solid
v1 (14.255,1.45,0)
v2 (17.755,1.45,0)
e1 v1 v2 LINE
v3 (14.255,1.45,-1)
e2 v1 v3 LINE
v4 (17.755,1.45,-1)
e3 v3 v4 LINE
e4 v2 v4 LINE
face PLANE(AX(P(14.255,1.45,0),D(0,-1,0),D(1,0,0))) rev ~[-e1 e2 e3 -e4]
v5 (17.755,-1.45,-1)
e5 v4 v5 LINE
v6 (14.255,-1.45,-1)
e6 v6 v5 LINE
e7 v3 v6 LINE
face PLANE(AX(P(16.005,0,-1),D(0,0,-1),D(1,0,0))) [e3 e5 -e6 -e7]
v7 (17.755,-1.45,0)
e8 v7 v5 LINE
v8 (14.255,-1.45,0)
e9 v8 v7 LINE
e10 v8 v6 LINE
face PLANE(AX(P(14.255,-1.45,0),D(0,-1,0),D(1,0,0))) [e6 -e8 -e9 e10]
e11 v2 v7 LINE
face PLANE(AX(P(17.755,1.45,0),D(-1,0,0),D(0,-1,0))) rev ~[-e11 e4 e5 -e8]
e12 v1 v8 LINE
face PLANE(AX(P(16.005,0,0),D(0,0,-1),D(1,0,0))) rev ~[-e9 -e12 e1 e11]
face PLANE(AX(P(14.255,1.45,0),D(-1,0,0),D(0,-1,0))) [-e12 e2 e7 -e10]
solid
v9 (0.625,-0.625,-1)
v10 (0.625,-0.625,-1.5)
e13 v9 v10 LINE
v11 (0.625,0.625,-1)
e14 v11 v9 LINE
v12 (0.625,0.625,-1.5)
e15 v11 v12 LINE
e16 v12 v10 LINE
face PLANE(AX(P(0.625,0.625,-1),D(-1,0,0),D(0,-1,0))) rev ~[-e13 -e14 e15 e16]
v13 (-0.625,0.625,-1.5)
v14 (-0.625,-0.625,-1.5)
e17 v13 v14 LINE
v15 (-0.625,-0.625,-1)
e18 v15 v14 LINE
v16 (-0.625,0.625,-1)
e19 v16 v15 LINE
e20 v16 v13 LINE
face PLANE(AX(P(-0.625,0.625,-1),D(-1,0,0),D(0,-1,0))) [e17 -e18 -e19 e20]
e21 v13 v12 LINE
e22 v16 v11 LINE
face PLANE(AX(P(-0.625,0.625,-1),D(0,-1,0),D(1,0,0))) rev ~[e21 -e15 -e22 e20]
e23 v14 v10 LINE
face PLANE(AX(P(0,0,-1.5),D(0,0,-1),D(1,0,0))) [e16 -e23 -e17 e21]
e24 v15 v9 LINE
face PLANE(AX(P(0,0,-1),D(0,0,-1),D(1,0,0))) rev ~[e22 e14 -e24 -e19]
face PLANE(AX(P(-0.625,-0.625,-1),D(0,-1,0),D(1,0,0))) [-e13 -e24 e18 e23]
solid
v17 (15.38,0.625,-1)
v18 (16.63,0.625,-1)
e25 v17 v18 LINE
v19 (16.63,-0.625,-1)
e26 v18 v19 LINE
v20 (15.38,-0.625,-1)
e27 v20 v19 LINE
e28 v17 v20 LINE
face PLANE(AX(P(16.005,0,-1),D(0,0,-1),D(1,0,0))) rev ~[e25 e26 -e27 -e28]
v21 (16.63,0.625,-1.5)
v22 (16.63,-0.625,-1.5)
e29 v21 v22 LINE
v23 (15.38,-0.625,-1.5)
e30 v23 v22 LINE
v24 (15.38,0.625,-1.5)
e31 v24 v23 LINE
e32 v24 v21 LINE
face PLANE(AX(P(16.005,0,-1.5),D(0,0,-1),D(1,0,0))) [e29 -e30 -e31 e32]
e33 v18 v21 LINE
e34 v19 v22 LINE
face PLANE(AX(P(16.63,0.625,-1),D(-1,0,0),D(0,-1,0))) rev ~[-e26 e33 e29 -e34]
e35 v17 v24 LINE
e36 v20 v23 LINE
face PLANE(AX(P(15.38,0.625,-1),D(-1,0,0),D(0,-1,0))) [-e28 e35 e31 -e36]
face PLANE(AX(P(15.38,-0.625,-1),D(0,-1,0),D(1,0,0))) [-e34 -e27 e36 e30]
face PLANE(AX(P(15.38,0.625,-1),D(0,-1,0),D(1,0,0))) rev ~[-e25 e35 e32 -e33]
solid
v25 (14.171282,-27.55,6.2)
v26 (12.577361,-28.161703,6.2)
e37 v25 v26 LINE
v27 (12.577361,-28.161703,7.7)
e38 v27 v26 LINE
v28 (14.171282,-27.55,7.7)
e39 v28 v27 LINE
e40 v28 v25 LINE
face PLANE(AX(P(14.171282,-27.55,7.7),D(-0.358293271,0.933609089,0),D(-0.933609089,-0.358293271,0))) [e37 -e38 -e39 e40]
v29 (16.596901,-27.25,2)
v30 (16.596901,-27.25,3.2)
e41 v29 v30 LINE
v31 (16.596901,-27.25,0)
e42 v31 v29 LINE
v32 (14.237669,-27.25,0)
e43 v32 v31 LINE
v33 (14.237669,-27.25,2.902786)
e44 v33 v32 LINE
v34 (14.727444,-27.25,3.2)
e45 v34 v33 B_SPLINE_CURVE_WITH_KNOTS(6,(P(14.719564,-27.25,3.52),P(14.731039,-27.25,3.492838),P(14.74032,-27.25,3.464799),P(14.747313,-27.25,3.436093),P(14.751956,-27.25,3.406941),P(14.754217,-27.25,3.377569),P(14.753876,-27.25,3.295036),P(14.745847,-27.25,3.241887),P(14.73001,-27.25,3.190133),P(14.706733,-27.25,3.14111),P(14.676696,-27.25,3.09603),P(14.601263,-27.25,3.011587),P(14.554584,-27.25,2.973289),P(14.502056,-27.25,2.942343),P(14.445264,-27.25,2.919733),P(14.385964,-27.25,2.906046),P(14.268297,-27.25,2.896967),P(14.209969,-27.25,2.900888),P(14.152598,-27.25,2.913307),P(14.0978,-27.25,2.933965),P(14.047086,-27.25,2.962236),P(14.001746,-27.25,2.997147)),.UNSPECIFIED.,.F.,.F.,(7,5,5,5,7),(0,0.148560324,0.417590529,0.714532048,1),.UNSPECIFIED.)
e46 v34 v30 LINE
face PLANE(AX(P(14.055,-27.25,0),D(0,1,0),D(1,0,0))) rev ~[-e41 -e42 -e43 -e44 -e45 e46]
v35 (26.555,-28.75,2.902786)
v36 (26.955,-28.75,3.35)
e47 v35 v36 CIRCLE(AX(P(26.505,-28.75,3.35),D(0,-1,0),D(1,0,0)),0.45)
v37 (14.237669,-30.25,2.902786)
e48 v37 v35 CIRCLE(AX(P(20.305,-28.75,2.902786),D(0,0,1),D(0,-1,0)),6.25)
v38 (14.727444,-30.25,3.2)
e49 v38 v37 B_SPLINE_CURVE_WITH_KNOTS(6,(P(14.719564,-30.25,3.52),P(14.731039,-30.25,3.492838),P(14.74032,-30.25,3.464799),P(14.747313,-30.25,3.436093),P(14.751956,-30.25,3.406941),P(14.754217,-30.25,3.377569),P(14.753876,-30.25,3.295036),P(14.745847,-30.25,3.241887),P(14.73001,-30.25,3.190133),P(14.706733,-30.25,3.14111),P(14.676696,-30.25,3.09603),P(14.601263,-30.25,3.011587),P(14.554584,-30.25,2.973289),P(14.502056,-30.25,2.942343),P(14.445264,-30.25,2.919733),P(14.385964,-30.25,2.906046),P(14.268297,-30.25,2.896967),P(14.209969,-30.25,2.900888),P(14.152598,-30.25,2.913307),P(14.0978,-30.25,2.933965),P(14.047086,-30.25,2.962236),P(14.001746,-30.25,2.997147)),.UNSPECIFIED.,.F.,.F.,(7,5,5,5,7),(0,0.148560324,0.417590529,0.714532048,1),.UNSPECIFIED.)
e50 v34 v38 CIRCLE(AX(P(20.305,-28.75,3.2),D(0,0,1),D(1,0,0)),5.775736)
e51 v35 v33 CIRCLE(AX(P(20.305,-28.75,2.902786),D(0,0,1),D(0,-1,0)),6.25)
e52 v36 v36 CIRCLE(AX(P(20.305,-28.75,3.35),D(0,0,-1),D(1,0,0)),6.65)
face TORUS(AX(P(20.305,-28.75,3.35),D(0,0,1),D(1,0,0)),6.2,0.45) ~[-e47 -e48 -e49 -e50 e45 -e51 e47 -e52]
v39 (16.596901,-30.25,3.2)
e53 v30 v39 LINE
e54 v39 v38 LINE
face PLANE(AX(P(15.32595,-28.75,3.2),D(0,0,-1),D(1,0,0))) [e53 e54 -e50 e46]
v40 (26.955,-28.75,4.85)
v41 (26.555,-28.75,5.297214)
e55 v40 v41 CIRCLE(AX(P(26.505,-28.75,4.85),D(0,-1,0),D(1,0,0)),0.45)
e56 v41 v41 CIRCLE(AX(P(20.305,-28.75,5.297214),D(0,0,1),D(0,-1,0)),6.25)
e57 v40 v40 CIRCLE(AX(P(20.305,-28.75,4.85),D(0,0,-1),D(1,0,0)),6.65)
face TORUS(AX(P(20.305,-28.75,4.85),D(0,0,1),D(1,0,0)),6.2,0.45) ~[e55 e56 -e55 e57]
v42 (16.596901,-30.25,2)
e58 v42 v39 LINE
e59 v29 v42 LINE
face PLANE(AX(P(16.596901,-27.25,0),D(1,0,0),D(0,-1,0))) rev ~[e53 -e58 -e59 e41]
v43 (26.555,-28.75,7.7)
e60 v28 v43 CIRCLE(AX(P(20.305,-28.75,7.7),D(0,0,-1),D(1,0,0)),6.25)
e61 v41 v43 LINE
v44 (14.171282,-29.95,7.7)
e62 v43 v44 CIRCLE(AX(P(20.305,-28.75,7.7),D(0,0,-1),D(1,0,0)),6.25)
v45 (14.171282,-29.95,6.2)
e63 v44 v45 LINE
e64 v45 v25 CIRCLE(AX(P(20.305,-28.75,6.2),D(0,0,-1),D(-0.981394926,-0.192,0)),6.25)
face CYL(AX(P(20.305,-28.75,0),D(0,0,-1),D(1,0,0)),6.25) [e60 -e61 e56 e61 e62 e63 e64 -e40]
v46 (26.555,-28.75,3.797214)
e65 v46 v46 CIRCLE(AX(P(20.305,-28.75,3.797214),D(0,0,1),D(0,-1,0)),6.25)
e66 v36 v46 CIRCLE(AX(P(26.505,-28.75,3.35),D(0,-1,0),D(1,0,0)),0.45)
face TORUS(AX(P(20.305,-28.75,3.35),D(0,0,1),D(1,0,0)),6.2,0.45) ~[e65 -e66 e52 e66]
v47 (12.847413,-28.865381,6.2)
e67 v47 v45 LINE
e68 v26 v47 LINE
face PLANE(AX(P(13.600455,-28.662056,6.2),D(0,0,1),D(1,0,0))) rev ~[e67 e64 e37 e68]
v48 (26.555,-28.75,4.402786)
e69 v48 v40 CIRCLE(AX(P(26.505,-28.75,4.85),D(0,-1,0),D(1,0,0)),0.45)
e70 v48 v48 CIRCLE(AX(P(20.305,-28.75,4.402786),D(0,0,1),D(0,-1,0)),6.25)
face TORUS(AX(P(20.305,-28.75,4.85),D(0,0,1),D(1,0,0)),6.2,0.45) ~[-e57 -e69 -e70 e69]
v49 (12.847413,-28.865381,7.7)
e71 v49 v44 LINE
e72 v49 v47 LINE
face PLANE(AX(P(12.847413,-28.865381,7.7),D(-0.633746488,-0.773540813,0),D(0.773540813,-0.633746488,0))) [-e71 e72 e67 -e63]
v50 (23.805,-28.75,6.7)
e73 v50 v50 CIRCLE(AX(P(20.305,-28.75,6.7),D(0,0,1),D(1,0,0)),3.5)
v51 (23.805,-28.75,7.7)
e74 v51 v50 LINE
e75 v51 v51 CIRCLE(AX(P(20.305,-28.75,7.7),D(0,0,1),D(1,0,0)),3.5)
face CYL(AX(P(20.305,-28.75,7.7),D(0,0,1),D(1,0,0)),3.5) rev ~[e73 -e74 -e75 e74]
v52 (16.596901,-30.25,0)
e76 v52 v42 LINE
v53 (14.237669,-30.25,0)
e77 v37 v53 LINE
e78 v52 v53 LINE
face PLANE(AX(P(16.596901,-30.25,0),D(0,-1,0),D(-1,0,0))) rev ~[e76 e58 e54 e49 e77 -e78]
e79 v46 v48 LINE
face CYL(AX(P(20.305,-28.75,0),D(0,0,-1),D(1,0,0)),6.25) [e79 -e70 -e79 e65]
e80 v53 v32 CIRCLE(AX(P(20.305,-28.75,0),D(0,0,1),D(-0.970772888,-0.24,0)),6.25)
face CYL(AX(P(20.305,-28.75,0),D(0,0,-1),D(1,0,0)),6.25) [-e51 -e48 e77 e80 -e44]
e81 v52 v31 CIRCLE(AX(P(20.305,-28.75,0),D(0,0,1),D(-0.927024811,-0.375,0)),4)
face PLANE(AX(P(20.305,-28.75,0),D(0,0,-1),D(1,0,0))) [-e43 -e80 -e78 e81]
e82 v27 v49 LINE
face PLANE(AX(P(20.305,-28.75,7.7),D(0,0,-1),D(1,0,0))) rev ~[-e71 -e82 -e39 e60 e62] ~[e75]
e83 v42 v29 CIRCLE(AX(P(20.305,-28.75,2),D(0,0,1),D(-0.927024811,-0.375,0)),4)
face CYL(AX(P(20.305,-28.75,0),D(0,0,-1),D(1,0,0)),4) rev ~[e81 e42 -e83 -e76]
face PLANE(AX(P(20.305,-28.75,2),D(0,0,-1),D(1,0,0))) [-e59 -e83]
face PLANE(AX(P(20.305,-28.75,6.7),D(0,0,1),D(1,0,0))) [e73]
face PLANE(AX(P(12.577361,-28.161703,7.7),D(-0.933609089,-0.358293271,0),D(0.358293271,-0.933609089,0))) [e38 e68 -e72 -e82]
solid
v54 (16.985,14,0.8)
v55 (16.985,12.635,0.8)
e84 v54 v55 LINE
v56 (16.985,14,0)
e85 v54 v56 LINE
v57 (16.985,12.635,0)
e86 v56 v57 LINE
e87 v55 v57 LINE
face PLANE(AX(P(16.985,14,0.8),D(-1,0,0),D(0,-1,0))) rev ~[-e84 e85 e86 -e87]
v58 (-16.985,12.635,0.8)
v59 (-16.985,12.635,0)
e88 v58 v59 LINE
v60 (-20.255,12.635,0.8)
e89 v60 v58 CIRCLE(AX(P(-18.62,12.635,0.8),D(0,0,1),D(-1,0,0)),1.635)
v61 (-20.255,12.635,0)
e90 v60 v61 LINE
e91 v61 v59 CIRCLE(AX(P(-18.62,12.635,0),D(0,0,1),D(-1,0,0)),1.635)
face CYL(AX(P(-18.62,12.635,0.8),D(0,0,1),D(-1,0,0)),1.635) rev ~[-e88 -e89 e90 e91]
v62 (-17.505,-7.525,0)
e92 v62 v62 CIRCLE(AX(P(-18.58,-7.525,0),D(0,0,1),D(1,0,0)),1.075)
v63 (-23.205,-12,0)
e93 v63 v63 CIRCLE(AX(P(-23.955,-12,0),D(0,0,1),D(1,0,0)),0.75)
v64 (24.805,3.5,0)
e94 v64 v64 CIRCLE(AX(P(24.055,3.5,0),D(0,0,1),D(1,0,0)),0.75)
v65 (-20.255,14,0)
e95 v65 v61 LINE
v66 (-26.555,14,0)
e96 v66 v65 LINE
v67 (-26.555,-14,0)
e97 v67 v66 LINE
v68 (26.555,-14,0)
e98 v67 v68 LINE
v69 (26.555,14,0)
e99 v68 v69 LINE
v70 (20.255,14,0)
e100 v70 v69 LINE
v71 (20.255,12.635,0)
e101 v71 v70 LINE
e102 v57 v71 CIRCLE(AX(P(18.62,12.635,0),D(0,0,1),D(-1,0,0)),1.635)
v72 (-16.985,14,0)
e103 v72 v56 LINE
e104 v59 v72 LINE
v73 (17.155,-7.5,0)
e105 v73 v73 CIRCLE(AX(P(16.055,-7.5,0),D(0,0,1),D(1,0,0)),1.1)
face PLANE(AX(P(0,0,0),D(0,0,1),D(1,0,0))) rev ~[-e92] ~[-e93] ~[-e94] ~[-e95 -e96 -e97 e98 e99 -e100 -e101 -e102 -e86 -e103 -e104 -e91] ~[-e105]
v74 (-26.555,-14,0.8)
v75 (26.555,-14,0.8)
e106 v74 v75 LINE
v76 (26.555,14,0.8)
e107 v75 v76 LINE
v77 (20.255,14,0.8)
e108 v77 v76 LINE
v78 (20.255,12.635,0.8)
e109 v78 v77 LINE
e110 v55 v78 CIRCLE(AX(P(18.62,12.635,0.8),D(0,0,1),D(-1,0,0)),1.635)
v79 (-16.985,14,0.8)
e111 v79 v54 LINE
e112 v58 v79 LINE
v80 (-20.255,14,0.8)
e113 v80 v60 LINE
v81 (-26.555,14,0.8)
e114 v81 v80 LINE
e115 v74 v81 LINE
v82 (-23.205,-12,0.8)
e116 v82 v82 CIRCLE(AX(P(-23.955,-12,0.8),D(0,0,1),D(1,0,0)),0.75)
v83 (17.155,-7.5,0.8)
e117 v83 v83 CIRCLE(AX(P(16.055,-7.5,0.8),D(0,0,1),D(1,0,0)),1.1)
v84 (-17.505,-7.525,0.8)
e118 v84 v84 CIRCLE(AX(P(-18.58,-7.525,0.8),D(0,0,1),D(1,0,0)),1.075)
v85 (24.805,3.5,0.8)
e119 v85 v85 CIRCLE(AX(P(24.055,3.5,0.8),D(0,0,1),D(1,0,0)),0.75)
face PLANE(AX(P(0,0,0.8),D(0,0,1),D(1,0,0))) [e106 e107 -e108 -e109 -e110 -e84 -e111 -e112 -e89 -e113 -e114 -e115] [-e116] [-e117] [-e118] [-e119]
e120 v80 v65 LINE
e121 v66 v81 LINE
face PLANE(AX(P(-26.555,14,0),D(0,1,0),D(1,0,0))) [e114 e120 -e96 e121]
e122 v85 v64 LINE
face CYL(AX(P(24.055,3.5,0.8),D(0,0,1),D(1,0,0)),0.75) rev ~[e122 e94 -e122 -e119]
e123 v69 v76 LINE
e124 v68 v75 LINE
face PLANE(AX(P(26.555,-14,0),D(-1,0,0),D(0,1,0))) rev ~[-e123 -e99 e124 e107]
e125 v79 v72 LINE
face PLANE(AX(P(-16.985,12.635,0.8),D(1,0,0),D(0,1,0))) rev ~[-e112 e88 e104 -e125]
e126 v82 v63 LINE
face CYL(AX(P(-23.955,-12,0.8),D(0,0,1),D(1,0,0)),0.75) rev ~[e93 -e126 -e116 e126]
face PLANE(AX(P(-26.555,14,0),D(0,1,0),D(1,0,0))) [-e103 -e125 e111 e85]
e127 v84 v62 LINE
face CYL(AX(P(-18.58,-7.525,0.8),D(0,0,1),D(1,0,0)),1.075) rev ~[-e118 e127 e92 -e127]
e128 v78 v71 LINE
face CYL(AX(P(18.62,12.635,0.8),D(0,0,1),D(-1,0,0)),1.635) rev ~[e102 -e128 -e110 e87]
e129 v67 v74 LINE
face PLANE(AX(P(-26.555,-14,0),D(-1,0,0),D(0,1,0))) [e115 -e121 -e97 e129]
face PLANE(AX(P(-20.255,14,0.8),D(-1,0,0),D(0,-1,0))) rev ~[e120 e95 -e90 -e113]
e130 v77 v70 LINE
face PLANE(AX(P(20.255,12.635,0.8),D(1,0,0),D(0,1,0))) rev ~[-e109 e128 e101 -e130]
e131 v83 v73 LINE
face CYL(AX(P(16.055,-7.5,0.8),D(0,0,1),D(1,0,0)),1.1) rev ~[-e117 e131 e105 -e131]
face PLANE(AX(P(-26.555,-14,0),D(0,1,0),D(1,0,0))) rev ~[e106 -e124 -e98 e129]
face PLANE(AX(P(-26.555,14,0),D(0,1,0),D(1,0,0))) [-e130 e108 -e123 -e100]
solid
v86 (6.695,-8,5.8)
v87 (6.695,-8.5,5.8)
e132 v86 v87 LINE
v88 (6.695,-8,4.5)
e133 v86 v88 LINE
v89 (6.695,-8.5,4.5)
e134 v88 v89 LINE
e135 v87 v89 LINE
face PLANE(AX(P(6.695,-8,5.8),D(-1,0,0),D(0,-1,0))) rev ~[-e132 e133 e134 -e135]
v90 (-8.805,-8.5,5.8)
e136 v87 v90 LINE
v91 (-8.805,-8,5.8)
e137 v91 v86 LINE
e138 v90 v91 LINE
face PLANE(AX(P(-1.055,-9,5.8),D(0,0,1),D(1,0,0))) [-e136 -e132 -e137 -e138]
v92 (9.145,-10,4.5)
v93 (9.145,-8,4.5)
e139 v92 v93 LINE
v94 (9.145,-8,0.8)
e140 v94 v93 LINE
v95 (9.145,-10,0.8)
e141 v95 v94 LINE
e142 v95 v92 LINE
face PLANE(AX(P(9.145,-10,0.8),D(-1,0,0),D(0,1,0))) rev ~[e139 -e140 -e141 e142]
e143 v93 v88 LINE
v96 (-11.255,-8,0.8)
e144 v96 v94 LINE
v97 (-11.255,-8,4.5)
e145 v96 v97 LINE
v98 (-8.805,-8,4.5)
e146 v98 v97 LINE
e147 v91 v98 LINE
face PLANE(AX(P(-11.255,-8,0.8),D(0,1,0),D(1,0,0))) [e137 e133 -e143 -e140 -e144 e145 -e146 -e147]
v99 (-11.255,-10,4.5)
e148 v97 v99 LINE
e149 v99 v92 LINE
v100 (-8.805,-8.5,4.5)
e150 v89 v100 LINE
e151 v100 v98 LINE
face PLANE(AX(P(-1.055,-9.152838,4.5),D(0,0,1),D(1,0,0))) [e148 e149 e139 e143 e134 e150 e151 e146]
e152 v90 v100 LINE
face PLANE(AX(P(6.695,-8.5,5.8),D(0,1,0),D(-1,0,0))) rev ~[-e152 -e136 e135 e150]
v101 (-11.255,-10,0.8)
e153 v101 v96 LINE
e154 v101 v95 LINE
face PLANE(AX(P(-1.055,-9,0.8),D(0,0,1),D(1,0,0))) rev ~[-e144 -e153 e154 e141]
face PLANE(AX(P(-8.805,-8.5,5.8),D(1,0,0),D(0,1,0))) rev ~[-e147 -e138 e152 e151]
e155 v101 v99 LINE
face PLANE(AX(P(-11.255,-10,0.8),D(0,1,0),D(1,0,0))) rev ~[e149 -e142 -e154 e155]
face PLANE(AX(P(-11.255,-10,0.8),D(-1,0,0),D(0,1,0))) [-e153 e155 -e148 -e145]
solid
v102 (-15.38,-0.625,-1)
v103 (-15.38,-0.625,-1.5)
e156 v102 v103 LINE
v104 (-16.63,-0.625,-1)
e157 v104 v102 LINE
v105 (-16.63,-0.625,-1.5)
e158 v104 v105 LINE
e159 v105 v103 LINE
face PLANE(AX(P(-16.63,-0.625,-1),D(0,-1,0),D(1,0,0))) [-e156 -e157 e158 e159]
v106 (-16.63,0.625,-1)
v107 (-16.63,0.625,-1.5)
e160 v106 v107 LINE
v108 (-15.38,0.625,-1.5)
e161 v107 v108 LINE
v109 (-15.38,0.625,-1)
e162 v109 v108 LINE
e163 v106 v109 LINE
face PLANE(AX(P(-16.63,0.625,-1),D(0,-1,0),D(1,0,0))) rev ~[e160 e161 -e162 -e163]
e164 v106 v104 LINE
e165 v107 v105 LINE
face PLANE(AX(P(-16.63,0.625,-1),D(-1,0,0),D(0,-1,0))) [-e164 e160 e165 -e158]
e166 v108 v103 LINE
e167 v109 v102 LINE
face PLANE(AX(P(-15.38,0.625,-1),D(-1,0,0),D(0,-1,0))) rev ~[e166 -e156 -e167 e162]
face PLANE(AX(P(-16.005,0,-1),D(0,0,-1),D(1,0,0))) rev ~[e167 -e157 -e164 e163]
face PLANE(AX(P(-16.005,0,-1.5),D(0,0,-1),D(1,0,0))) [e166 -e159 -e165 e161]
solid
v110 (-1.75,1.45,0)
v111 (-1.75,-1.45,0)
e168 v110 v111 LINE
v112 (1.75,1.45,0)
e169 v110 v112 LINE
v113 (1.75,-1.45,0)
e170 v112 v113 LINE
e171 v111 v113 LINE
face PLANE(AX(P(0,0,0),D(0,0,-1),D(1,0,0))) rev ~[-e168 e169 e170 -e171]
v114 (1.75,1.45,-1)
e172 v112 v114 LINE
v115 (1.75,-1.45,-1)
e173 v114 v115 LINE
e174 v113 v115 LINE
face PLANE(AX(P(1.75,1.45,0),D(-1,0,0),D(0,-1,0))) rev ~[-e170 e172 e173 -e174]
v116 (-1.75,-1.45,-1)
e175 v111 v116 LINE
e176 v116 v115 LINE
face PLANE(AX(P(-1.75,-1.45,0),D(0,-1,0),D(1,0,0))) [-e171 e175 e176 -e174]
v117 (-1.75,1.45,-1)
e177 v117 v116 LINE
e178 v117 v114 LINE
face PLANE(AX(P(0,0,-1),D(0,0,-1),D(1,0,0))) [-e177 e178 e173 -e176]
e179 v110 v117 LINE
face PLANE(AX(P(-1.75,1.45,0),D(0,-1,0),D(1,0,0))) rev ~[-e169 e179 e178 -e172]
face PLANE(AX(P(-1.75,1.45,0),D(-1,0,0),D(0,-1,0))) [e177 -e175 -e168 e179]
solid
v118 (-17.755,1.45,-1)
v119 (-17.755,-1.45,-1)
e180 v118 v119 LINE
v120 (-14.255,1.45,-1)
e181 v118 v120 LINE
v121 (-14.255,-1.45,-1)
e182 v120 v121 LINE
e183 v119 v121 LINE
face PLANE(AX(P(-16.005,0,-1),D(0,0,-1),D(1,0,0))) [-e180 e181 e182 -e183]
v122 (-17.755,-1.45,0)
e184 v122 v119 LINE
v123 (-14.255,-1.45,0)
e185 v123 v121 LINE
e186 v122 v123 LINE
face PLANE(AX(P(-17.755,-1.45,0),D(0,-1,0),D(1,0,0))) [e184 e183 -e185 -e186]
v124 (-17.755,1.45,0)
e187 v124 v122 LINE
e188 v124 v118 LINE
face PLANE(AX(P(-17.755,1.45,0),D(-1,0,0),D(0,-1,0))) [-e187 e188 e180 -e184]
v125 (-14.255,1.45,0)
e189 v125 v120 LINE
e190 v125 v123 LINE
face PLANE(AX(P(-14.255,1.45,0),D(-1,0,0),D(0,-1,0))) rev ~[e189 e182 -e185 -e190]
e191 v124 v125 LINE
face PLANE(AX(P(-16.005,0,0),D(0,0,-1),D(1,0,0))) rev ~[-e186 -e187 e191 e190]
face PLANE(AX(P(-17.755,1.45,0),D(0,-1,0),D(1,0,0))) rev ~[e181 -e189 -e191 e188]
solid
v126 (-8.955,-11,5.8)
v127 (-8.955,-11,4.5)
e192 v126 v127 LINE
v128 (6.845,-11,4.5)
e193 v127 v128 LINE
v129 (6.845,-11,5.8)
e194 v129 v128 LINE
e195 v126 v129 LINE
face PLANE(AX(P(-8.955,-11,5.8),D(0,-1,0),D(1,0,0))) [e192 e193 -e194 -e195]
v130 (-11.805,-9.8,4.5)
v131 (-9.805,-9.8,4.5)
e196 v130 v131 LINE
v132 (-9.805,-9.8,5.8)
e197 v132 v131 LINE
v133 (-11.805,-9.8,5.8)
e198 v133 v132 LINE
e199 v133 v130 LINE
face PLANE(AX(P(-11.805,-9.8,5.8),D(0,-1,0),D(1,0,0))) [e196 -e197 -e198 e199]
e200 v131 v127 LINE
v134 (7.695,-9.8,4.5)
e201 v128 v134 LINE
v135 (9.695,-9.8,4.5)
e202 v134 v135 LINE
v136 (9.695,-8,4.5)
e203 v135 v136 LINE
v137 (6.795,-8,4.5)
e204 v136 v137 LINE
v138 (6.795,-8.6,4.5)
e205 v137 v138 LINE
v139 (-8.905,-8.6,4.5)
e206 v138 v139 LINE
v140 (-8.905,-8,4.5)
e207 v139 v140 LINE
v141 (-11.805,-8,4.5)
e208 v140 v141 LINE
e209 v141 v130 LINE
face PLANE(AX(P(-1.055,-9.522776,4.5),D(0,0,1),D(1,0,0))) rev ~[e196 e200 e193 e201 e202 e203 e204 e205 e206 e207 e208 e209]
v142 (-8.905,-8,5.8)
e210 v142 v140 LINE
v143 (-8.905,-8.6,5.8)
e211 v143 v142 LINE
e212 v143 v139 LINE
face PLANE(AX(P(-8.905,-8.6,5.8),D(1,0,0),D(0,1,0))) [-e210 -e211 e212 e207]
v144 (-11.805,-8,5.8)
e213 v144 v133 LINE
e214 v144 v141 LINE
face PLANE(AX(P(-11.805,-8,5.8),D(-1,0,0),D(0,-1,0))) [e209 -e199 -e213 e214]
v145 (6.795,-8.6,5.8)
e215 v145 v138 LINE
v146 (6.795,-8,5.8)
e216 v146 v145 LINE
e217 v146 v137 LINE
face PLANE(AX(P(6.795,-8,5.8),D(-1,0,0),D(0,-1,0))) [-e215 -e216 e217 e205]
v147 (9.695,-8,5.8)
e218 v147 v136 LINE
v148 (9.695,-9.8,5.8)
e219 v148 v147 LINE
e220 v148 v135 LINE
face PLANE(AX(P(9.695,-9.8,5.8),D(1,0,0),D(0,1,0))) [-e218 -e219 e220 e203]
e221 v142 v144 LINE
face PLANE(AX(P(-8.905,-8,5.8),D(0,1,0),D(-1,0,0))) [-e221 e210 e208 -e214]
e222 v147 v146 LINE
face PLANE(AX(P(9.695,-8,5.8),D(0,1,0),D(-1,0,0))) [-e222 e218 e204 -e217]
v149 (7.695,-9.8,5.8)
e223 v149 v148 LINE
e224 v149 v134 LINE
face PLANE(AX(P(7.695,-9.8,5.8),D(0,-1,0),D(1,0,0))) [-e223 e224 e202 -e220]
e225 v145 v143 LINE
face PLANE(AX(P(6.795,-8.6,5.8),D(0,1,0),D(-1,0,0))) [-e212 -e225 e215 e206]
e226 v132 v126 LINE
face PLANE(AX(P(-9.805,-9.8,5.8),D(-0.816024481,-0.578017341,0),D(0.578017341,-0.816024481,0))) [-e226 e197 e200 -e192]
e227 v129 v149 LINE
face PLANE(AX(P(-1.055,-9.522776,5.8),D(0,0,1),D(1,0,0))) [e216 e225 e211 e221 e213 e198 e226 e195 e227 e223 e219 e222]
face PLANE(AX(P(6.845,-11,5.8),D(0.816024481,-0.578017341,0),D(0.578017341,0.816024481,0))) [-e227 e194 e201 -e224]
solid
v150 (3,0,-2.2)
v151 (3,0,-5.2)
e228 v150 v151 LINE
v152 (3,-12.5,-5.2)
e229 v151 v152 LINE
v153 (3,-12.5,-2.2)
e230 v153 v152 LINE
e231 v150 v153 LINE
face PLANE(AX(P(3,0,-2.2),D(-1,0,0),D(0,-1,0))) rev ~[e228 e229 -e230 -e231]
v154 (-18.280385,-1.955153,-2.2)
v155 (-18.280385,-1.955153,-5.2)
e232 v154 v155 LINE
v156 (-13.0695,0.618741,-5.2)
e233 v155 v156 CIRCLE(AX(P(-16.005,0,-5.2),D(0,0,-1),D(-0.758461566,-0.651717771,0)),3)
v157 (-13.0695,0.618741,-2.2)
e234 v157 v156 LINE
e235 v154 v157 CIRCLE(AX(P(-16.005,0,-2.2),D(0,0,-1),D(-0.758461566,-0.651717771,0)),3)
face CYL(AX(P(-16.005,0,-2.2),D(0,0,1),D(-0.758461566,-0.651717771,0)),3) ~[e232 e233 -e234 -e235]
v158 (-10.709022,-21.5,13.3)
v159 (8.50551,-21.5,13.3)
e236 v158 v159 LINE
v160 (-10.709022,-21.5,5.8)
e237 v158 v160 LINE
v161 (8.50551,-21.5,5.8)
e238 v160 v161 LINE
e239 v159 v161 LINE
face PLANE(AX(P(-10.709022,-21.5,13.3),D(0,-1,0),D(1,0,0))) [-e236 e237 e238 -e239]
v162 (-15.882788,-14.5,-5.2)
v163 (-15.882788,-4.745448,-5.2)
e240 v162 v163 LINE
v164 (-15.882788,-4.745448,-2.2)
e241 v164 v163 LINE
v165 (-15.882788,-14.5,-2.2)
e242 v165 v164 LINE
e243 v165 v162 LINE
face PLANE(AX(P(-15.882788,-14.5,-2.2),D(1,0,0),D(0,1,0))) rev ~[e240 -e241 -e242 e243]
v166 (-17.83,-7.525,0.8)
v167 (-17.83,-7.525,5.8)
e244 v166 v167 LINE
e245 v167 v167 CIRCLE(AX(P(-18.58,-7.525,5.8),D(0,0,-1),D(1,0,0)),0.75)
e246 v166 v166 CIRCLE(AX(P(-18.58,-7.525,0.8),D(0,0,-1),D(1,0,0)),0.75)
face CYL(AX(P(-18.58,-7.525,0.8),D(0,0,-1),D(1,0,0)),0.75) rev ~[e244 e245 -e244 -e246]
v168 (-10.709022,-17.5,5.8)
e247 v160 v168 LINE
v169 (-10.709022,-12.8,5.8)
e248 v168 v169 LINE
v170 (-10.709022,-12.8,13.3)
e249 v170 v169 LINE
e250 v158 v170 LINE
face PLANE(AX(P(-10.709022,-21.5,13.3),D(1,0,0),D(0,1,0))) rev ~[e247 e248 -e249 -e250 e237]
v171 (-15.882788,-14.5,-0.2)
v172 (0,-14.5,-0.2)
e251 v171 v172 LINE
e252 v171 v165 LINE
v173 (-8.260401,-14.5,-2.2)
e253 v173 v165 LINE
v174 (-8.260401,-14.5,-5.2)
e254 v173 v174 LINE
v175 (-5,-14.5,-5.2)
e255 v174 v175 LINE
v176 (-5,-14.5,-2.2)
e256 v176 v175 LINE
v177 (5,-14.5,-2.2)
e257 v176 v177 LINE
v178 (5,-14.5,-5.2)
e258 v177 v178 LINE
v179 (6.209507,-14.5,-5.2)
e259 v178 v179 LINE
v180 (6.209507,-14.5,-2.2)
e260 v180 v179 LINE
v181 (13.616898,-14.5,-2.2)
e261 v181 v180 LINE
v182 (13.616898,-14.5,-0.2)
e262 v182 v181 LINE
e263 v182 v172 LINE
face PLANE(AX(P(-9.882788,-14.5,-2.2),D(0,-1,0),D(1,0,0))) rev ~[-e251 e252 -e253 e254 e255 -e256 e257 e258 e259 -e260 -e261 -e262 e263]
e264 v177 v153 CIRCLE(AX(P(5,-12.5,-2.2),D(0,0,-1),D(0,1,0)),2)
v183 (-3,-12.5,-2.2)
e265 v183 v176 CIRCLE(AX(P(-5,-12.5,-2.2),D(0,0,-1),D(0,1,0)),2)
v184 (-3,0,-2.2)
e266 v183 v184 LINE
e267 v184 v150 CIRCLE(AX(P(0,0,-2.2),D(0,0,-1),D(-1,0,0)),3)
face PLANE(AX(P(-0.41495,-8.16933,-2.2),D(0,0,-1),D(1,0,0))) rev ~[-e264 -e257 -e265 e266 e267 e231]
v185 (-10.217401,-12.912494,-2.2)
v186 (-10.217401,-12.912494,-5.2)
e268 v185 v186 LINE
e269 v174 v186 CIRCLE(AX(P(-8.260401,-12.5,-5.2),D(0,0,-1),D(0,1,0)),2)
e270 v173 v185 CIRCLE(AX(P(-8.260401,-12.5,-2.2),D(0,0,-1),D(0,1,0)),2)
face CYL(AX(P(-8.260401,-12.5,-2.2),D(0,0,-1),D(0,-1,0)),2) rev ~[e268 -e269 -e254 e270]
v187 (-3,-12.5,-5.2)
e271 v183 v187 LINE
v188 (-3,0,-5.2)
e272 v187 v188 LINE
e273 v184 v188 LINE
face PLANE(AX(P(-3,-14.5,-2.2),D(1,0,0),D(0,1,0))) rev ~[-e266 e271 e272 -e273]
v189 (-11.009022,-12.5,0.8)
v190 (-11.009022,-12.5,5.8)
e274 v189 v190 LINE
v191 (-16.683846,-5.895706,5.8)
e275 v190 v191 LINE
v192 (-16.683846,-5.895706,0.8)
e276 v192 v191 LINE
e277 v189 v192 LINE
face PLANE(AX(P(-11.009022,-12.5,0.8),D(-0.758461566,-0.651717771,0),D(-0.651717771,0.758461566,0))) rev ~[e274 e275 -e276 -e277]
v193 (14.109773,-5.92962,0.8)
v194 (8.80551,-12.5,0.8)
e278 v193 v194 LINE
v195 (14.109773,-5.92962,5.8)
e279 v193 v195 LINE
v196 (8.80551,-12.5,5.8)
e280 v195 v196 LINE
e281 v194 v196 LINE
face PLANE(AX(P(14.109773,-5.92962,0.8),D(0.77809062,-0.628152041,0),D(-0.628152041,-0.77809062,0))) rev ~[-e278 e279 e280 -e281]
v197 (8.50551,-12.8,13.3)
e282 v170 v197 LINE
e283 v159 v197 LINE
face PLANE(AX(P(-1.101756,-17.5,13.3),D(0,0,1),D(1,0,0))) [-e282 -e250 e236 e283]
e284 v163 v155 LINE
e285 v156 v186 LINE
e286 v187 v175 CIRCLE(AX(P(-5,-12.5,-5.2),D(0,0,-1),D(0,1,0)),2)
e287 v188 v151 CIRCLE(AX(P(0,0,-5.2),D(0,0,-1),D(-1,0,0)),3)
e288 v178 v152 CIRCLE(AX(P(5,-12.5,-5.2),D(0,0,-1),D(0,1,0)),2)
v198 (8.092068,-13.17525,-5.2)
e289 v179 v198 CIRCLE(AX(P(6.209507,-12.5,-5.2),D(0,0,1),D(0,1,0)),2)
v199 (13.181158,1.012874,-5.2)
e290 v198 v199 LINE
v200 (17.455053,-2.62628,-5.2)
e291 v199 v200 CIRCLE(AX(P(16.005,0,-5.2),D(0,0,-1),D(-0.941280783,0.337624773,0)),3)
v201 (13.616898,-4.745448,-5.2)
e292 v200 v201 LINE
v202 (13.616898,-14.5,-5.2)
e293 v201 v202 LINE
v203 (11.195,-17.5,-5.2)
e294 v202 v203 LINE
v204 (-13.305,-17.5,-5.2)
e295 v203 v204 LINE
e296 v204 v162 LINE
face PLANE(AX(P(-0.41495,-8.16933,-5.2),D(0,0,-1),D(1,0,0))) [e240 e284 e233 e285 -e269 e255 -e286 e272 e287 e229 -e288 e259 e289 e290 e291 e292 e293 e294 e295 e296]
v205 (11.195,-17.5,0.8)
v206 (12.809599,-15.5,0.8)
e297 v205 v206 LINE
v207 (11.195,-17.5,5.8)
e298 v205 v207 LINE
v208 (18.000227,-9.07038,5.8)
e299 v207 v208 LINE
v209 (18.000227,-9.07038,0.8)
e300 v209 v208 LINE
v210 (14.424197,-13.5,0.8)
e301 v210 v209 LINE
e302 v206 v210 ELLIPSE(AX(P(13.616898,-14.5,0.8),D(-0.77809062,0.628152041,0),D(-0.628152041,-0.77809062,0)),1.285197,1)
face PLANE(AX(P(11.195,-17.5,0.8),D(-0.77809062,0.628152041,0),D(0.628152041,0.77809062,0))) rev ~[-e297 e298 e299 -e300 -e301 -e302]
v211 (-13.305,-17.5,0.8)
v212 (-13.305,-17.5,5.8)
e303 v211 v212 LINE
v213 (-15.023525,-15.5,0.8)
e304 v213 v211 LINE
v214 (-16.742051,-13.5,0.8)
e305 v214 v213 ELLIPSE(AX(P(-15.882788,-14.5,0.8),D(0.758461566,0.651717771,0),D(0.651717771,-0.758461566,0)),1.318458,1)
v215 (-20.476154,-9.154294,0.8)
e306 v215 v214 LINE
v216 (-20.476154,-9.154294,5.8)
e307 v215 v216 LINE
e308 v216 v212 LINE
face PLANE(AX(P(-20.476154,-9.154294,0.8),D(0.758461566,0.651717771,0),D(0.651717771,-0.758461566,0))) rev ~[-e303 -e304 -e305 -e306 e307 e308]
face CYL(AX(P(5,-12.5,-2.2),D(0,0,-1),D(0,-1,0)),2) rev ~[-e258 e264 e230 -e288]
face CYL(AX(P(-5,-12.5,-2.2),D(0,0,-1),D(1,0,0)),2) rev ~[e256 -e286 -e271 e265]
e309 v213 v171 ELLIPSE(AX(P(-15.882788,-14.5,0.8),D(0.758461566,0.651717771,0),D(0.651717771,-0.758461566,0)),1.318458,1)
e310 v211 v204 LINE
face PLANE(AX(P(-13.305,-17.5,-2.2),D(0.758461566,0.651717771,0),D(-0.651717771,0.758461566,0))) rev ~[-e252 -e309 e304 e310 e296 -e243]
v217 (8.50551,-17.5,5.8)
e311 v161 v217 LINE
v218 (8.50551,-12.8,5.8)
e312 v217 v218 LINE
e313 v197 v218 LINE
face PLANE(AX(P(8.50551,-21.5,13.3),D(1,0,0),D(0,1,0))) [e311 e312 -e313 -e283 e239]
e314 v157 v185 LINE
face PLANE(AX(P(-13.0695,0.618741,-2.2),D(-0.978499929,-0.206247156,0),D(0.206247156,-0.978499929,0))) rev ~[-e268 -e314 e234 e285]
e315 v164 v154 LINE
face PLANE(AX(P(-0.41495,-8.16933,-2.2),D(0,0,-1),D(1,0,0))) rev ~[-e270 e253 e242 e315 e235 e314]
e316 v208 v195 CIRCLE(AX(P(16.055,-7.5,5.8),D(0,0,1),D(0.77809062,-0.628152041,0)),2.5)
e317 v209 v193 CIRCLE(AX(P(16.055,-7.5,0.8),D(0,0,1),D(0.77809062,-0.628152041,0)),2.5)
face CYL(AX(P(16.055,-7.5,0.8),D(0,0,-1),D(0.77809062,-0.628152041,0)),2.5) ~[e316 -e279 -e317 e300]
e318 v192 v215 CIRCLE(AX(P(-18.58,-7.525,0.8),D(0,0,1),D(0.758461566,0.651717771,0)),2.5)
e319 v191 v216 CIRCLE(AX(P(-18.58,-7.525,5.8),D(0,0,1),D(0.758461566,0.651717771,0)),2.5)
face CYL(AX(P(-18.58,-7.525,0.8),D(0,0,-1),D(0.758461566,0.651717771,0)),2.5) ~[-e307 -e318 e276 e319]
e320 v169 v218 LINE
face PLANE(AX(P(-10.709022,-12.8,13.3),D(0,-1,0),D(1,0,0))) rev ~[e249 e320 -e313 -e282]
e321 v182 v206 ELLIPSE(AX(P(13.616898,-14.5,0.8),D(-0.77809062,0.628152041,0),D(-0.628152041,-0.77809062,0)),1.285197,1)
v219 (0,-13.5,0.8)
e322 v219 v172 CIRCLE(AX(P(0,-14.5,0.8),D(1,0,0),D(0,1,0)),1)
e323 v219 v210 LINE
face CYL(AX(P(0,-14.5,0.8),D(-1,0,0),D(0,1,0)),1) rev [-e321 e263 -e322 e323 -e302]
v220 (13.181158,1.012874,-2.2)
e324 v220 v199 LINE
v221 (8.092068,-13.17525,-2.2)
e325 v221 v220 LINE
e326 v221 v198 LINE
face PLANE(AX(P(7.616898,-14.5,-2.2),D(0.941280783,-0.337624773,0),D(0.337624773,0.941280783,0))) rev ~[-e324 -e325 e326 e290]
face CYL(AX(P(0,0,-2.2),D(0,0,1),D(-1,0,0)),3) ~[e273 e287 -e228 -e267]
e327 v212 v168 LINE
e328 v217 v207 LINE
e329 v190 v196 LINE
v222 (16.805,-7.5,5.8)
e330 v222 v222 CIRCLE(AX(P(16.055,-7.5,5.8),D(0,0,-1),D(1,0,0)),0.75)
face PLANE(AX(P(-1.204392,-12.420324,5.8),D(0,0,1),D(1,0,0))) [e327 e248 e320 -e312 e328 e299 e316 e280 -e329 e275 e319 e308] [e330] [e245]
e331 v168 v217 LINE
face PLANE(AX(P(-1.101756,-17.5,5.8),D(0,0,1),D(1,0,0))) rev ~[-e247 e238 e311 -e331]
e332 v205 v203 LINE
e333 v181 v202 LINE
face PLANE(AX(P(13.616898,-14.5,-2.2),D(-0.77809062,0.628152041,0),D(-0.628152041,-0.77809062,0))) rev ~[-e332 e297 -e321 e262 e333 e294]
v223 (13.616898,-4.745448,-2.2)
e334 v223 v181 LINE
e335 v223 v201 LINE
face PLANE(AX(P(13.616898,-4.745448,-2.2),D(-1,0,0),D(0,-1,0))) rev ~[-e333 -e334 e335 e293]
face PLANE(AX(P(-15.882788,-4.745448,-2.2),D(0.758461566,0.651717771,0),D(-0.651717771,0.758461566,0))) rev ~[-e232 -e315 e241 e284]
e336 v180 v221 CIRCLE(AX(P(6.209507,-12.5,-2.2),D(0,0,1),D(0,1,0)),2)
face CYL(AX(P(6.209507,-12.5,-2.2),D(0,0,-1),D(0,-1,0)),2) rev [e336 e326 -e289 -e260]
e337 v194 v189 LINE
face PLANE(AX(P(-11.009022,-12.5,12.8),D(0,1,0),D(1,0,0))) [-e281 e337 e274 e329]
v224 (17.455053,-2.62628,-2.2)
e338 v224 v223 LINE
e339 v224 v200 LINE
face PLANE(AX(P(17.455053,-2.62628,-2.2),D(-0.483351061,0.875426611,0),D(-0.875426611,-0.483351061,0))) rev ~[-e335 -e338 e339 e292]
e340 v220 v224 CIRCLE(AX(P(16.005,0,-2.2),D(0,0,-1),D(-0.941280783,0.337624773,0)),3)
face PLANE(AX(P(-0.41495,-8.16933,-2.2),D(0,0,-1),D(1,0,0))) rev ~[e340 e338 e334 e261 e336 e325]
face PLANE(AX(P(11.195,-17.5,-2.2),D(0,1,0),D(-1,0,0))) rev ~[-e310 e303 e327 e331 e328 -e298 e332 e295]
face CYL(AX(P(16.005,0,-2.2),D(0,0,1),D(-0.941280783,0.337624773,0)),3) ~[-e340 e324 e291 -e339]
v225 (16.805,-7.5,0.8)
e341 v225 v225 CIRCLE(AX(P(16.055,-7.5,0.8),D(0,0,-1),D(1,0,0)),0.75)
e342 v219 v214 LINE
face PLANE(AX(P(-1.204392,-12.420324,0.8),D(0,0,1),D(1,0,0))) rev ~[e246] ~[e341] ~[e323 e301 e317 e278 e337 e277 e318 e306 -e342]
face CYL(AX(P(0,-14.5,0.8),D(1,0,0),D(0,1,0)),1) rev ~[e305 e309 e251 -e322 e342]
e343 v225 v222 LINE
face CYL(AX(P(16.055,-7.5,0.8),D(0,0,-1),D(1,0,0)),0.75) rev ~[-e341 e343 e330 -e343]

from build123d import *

# Parameters (mm, degrees)
F0_W           = 53.11
F0_H           = 28
F1_DEPTH       = 0.8
F2_R           = 1.075
F2_R_2         = 1.1
F2_R_3         = 0.75
F3_DEPTH       = 0.801
F4_W           = 20.4
F4_H           = 2
F5_DEPTH       = 5
F7_DEPTH       = 1.3
F9_DEPTH       = 1.3
F10_W          = 3.5
F10_H          = 2.9
F11_DEPTH      = 1
F12_W          = 1.25
F12_H          = 1.25
F13_DEPTH      = 0.5
F14_R          = 6.25
F15_DEPTH      = 7.7
F16_R          = 3.5
F17_DEPTH      = 1
F18_R          = 4
F19_DEPTH      = 2
F21_DEPTH      = 3.2
F23_DEPTH      = 1.5
F26_R          = 0.45
F29_DEPTH      = 5
F30_R          = 0.75
F31_DEPTH      = 6.901
F33_DEPTH      = 3
F35_DEPTH      = 3
F36_R          = 1
F37_DEPTH      = 26.556
F37_DEPTH_BACK = 26.9560001
F38_R          = 2
F39_W          = 19.8145318501
F39_H          = 10
F40_DEPTH      = 7
F41_W          = 19.8145318501
F41_H          = 10
F42_DEPTH      = 0.5
F43_W          = 19.8145318501
F43_H          = 10
F43_W_2        = 19.2145318501
F43_H_2        = 8.7
F44_DEPTH      = 7.5


with BuildPart() as f1:
    # F0 (on Top) → F1 (new body)
    with BuildSketch(Plane.XY):
        Rectangle(F0_W, F0_H)
    extrude(amount=F1_DEPTH)

    # F2 (on face) → F3 (cut, through all)
    with BuildSketch(Plane.XY.offset(0.8)):
        with BuildLine():
            Line((16.985, 14), (16.985, 12.635))
            ThreePointArc((16.985, 12.635), (18.62, 11), (20.255, 12.635))
            Line((20.255, 12.635), (20.255, 14))
            Line((20.255, 14), (16.985, 14))
        make_face()
        with BuildLine():
            Line((-20.255, 14), (-20.255, 12.635))
            ThreePointArc((-20.255, 12.635), (-18.62, 11), (-16.985, 12.635))
            Line((-16.985, 12.635), (-16.985, 14))
            Line((-16.985, 14), (-20.255, 14))
        make_face()
        with Locations((-18.58, -7.525)):
            Circle(F2_R)
        with Locations((16.055, -7.5)):
            Circle(F2_R_2)
        with Locations((24.055, 3.5)):
            Circle(F2_R_3)
        with Locations((-23.955, -12)):
            Circle(F2_R_3)
    extrude(amount=-F3_DEPTH, mode=Mode.SUBTRACT)


with BuildPart() as f5:
    # F4 (on face) → F5 (new body)
    with BuildSketch(Plane.XY.offset(0.8)):
        with Locations((-1.055, -9)):
            Rectangle(F4_W, F4_H)
    extrude(amount=F5_DEPTH)

    # F6 (on face) → F7 (cut)
    with BuildSketch(Plane.XY.offset(5.8)):
        Polygon((-11.255, -8.5), (-11.255, -10), (9.145, -10), (9.145, -8.5), (9.145, -8), (6.695, -8), (6.695, -8.5), (-8.805, -8.5), (-8.805, -8), (-11.255, -8), align=None)
    extrude(amount=-F7_DEPTH, mode=Mode.SUBTRACT)


with BuildPart() as f9:
    # F8 (on face) → F9 (new body, through all)
    with BuildSketch(Plane.XY.offset(5.8)):
        Polygon((-8.905, -8), (-11.805, -8), (-11.805, -9.8), (-9.805, -9.8), (-8.955, -11), (6.845, -11), (7.695, -9.8), (9.695, -9.8), (9.695, -8), (6.795, -8), (6.795, -8.6), (-8.905, -8.6), align=None)
    extrude(amount=-F9_DEPTH)


with BuildPart() as f11:
    # F10 (on face) → F11 (new body)
    with BuildSketch(Plane(origin=(0, 0, 0), x_dir=(1, 0, 0), z_dir=(0, 0, -1))):
        with Locations((-16.005, 0)):
            Rectangle(F10_W, F10_H)
    extrude(amount=F11_DEPTH)


with BuildPart() as f11b:
    # F10 (on face) → F11, piece 2 (new body)
    with BuildSketch(Plane(origin=(0, 0, 0), x_dir=(1, 0, 0), z_dir=(0, 0, -1))):
        Rectangle(F10_W, F10_H)
    extrude(amount=F11_DEPTH)


with BuildPart() as f11c:
    # F10 (on face) → F11, piece 3 (new body)
    with BuildSketch(Plane(origin=(0, 0, 0), x_dir=(1, 0, 0), z_dir=(0, 0, -1))):
        with Locations((16.005, 0)):
            Rectangle(F10_W, F10_H)
    extrude(amount=F11_DEPTH)


with BuildPart() as f13:
    # F12 (on face) → F13 (new body)
    with BuildSketch(Plane(origin=(0, 0, -1), x_dir=(1, 0, 0), z_dir=(0, 0, -1))):
        with Locations((-16.005, 0)):
            Rectangle(F12_W, F12_H)
    extrude(amount=F13_DEPTH)


with BuildPart() as f13b:
    # F12 (on face) → F13, piece 2 (new body)
    with BuildSketch(Plane(origin=(0, 0, -1), x_dir=(1, 0, 0), z_dir=(0, 0, -1))):
        Rectangle(F12_W, F12_H)
    extrude(amount=F13_DEPTH)


with BuildPart() as f13c:
    # F12 (on face) → F13, piece 3 (new body)
    with BuildSketch(Plane(origin=(0, 0, -1), x_dir=(1, 0, 0), z_dir=(0, 0, -1))):
        with Locations((16.005, 0)):
            Rectangle(F12_W, F12_H)
    extrude(amount=F13_DEPTH)


with BuildPart() as f15:
    # F14 (on face) → F15 (new body)
    with BuildSketch(Plane(origin=(0, 0, 0), x_dir=(1, 0, 0), z_dir=(0, 0, -1))):
        with Locations((20.305, 28.75)):
            Circle(F14_R)
    extrude(amount=-F15_DEPTH)

    # F16 (on face) → F17 (cut)
    with BuildSketch(Plane.XY.offset(7.7)):
        with Locations((20.305, -28.75)):
            Circle(F16_R)
    extrude(amount=-F17_DEPTH, mode=Mode.SUBTRACT)

    # F18 (on face) → F19 (cut)
    with BuildSketch(Plane(origin=(0, 0, 0), x_dir=(1, 0, 0), z_dir=(0, 0, -1))):
        with Locations((20.305, 28.75)):
            Circle(F18_R)
    extrude(amount=-F19_DEPTH, mode=Mode.SUBTRACT)

    # F20 (on face) → F21 (cut)
    with BuildSketch(Plane(origin=(0, 0, 0), x_dir=(1, 0, 0), z_dir=(0, 0, -1))):
        Polygon((16.5969007565, 30.25), (14.055, 30.25), (14.055, 27.25), (16.5969007565, 27.25), (16.5969007565, 28.75), align=None)
    extrude(amount=-F21_DEPTH, mode=Mode.SUBTRACT)

    # F22 (on face) → F23 (join)
    with BuildSketch(Plane.XY.offset(7.7)):
        with BuildLine():
            ThreePointArc((14.171281715, -29.95), (14.055, -28.75), (14.171281715, -27.55))
            Line((14.171281715, -27.55), (12.5773608931, -28.1617025975))
            Line((12.5773608931, -28.1617025975), (12.8474131487, -28.8653810108))
            Line((12.8474131487, -28.8653810108), (14.171281715, -29.95))
        make_face()
    extrude(amount=-F23_DEPTH)

    # F26 (on line) → F27 (revolve)
    with BuildSketch(Plane.XZ.offset(28.75)):
        with Locations((26.505, 4.85)):
            Circle(F26_R)
        with Locations((26.505, 3.35)):
            Circle(F26_R)
    revolve(axis=Axis((20.305, -28.75, 4.1626373367), (0, 0, -1)))


with BuildPart() as f29:
    # F28 (on face) → F29 (new body)
    with BuildSketch(Plane.XY.offset(0.8)):
        with BuildLine():
            Line((11.195, -17.5), (18.0002265501, -9.0703801033))
            ThreePointArc((18.0002265501, -9.0703801033), (17.6253801033, -5.5547734499), (14.1097734499, -5.9296198967))
            Line((14.1097734499, -5.9296198967), (8.8055099516, -12.5))
            Line((8.8055099516, -12.5), (-11.0090218985, -12.5))
            Line((-11.0090218985, -12.5), (-16.6838460844, -5.8957055735))
            ThreePointArc((-16.6838460844, -5.8957055735), (-20.2092944265, -5.6288460844), (-20.4761539156, -9.1542944265))
            Line((-20.4761539156, -9.1542944265), (-13.305, -17.5))
            Line((-13.305, -17.5), (11.195, -17.5))
        make_face()
    extrude(amount=F29_DEPTH)

    # F30 (on face) → F31 (cut, through all)
    with BuildSketch(Plane(origin=(0, 0, 0.8), x_dir=(1, 0, 0), z_dir=(0, 0, -1))):
        with Locations((-18.58, 7.525)):
            Circle(F30_R)
        with Locations((16.055, 7.5)):
            Circle(F30_R)
    extrude(amount=-F31_DEPTH, mode=Mode.SUBTRACT)

    # F32 (on face) → F33 (join)
    with BuildSketch(Plane(origin=(0, 0, 0.8), x_dir=(1, 0, 0), z_dir=(0, 0, -1))):
        Polygon((13.6168980097, 14.5), (11.195, 17.5), (-13.305, 17.5), (-15.8827882478, 14.5), (-13.305, 14.5), (11.195, 14.5), align=None)
    extrude(amount=F33_DEPTH)

    # F34 (on face) → F35 (join)
    with BuildSketch(Plane(origin=(0, 0, -2.2), x_dir=(1, 0, 0), z_dir=(0, 0, -1))):
        with BuildLine():
            Line((-3, 14.5), (-3, 0))
            ThreePointArc((-3, 0), (0, -3), (3, 0))
            Line((3, 0), (3, 14.5))
            Line((3, 14.5), (7.6168980097, 14.5))
            Line((7.6168980097, 14.5), (13.1811576508, -1.0128743193))
            ThreePointArc((13.1811576508, -1.0128743193), (17.9499125703, -2.2841442805), (17.4550531831, 2.6262798339))
            Line((17.4550531831, 2.6262798339), (13.6168980097, 4.7454481931))
            Line((13.6168980097, 4.7454481931), (13.6168980097, 14.5))
            Line((13.6168980097, 14.5), (11.195, 17.5))
            Line((11.195, 17.5), (-13.305, 17.5))
            Line((-13.305, 17.5), (-15.8827882478, 14.5))
            Line((-15.8827882478, 14.5), (-15.8827882478, 4.7454481931))
            Line((-15.8827882478, 4.7454481931), (-18.2803846987, 1.9551533119))
            ThreePointArc((-18.2803846987, 1.9551533119), (-17.3335975941, -2.6897636389), (-13.0695002137, -0.6187414683))
            Line((-13.0695002137, -0.6187414683), (-9.8827882478, 14.5))
            Line((-9.8827882478, 14.5), (-3, 14.5))
        make_face()
    extrude(amount=F35_DEPTH)

    # F36 (on Right) → F37 (cut, two sides)
    with BuildSketch(Plane.YZ) as f37_sk:
        with Locations((-14.5, 0.8)):
            Circle(F36_R)
    extrude(amount=-F37_DEPTH, mode=Mode.SUBTRACT)
    extrude(f37_sk.sketch, amount=F37_DEPTH_BACK, mode=Mode.SUBTRACT)

    # F38
    f38_edges = [f29.edges().sort_by_distance(p)[0] for p in [
        (-9.882788, -14.5, -3.7),
        (-3, -14.5, -3.7),
        (3, -14.5, -3.7),
        (7.616898, -14.5, -3.7),
    ]]
    fillet(f38_edges, radius=F38_R)

    # F39 (on face) → F40 (join)
    with BuildSketch(Plane.XY.offset(5.8)):
        with Locations((-1.1017559735, -17.5)):
            Rectangle(F39_W, F39_H)
    extrude(amount=F40_DEPTH)

    # F41 (on face) → F42 (join)
    with BuildSketch(Plane.XY.offset(12.8)):
        with Locations((-1.1017559735, -17.5)):
            Rectangle(F41_W, F41_H)
    extrude(amount=F42_DEPTH)

    # F43 (on face) → F44 (cut, through all)
    with BuildSketch(Plane.XY.offset(13.3)):
        with Locations((-1.1017559735, -17.5)):
            Rectangle(F43_W, F43_H)
        with Locations((-1.1017559735, -17.15)):
            Rectangle(F43_W_2, F43_H_2, mode=Mode.SUBTRACT)
    extrude(amount=-F44_DEPTH, mode=Mode.SUBTRACT)


solid = Compound([f1.part, f5.part, f9.part, f11.part, f11b.part, f11c.part, f13.part, f13b.part, f13c.part, f15.part, f29.part])
